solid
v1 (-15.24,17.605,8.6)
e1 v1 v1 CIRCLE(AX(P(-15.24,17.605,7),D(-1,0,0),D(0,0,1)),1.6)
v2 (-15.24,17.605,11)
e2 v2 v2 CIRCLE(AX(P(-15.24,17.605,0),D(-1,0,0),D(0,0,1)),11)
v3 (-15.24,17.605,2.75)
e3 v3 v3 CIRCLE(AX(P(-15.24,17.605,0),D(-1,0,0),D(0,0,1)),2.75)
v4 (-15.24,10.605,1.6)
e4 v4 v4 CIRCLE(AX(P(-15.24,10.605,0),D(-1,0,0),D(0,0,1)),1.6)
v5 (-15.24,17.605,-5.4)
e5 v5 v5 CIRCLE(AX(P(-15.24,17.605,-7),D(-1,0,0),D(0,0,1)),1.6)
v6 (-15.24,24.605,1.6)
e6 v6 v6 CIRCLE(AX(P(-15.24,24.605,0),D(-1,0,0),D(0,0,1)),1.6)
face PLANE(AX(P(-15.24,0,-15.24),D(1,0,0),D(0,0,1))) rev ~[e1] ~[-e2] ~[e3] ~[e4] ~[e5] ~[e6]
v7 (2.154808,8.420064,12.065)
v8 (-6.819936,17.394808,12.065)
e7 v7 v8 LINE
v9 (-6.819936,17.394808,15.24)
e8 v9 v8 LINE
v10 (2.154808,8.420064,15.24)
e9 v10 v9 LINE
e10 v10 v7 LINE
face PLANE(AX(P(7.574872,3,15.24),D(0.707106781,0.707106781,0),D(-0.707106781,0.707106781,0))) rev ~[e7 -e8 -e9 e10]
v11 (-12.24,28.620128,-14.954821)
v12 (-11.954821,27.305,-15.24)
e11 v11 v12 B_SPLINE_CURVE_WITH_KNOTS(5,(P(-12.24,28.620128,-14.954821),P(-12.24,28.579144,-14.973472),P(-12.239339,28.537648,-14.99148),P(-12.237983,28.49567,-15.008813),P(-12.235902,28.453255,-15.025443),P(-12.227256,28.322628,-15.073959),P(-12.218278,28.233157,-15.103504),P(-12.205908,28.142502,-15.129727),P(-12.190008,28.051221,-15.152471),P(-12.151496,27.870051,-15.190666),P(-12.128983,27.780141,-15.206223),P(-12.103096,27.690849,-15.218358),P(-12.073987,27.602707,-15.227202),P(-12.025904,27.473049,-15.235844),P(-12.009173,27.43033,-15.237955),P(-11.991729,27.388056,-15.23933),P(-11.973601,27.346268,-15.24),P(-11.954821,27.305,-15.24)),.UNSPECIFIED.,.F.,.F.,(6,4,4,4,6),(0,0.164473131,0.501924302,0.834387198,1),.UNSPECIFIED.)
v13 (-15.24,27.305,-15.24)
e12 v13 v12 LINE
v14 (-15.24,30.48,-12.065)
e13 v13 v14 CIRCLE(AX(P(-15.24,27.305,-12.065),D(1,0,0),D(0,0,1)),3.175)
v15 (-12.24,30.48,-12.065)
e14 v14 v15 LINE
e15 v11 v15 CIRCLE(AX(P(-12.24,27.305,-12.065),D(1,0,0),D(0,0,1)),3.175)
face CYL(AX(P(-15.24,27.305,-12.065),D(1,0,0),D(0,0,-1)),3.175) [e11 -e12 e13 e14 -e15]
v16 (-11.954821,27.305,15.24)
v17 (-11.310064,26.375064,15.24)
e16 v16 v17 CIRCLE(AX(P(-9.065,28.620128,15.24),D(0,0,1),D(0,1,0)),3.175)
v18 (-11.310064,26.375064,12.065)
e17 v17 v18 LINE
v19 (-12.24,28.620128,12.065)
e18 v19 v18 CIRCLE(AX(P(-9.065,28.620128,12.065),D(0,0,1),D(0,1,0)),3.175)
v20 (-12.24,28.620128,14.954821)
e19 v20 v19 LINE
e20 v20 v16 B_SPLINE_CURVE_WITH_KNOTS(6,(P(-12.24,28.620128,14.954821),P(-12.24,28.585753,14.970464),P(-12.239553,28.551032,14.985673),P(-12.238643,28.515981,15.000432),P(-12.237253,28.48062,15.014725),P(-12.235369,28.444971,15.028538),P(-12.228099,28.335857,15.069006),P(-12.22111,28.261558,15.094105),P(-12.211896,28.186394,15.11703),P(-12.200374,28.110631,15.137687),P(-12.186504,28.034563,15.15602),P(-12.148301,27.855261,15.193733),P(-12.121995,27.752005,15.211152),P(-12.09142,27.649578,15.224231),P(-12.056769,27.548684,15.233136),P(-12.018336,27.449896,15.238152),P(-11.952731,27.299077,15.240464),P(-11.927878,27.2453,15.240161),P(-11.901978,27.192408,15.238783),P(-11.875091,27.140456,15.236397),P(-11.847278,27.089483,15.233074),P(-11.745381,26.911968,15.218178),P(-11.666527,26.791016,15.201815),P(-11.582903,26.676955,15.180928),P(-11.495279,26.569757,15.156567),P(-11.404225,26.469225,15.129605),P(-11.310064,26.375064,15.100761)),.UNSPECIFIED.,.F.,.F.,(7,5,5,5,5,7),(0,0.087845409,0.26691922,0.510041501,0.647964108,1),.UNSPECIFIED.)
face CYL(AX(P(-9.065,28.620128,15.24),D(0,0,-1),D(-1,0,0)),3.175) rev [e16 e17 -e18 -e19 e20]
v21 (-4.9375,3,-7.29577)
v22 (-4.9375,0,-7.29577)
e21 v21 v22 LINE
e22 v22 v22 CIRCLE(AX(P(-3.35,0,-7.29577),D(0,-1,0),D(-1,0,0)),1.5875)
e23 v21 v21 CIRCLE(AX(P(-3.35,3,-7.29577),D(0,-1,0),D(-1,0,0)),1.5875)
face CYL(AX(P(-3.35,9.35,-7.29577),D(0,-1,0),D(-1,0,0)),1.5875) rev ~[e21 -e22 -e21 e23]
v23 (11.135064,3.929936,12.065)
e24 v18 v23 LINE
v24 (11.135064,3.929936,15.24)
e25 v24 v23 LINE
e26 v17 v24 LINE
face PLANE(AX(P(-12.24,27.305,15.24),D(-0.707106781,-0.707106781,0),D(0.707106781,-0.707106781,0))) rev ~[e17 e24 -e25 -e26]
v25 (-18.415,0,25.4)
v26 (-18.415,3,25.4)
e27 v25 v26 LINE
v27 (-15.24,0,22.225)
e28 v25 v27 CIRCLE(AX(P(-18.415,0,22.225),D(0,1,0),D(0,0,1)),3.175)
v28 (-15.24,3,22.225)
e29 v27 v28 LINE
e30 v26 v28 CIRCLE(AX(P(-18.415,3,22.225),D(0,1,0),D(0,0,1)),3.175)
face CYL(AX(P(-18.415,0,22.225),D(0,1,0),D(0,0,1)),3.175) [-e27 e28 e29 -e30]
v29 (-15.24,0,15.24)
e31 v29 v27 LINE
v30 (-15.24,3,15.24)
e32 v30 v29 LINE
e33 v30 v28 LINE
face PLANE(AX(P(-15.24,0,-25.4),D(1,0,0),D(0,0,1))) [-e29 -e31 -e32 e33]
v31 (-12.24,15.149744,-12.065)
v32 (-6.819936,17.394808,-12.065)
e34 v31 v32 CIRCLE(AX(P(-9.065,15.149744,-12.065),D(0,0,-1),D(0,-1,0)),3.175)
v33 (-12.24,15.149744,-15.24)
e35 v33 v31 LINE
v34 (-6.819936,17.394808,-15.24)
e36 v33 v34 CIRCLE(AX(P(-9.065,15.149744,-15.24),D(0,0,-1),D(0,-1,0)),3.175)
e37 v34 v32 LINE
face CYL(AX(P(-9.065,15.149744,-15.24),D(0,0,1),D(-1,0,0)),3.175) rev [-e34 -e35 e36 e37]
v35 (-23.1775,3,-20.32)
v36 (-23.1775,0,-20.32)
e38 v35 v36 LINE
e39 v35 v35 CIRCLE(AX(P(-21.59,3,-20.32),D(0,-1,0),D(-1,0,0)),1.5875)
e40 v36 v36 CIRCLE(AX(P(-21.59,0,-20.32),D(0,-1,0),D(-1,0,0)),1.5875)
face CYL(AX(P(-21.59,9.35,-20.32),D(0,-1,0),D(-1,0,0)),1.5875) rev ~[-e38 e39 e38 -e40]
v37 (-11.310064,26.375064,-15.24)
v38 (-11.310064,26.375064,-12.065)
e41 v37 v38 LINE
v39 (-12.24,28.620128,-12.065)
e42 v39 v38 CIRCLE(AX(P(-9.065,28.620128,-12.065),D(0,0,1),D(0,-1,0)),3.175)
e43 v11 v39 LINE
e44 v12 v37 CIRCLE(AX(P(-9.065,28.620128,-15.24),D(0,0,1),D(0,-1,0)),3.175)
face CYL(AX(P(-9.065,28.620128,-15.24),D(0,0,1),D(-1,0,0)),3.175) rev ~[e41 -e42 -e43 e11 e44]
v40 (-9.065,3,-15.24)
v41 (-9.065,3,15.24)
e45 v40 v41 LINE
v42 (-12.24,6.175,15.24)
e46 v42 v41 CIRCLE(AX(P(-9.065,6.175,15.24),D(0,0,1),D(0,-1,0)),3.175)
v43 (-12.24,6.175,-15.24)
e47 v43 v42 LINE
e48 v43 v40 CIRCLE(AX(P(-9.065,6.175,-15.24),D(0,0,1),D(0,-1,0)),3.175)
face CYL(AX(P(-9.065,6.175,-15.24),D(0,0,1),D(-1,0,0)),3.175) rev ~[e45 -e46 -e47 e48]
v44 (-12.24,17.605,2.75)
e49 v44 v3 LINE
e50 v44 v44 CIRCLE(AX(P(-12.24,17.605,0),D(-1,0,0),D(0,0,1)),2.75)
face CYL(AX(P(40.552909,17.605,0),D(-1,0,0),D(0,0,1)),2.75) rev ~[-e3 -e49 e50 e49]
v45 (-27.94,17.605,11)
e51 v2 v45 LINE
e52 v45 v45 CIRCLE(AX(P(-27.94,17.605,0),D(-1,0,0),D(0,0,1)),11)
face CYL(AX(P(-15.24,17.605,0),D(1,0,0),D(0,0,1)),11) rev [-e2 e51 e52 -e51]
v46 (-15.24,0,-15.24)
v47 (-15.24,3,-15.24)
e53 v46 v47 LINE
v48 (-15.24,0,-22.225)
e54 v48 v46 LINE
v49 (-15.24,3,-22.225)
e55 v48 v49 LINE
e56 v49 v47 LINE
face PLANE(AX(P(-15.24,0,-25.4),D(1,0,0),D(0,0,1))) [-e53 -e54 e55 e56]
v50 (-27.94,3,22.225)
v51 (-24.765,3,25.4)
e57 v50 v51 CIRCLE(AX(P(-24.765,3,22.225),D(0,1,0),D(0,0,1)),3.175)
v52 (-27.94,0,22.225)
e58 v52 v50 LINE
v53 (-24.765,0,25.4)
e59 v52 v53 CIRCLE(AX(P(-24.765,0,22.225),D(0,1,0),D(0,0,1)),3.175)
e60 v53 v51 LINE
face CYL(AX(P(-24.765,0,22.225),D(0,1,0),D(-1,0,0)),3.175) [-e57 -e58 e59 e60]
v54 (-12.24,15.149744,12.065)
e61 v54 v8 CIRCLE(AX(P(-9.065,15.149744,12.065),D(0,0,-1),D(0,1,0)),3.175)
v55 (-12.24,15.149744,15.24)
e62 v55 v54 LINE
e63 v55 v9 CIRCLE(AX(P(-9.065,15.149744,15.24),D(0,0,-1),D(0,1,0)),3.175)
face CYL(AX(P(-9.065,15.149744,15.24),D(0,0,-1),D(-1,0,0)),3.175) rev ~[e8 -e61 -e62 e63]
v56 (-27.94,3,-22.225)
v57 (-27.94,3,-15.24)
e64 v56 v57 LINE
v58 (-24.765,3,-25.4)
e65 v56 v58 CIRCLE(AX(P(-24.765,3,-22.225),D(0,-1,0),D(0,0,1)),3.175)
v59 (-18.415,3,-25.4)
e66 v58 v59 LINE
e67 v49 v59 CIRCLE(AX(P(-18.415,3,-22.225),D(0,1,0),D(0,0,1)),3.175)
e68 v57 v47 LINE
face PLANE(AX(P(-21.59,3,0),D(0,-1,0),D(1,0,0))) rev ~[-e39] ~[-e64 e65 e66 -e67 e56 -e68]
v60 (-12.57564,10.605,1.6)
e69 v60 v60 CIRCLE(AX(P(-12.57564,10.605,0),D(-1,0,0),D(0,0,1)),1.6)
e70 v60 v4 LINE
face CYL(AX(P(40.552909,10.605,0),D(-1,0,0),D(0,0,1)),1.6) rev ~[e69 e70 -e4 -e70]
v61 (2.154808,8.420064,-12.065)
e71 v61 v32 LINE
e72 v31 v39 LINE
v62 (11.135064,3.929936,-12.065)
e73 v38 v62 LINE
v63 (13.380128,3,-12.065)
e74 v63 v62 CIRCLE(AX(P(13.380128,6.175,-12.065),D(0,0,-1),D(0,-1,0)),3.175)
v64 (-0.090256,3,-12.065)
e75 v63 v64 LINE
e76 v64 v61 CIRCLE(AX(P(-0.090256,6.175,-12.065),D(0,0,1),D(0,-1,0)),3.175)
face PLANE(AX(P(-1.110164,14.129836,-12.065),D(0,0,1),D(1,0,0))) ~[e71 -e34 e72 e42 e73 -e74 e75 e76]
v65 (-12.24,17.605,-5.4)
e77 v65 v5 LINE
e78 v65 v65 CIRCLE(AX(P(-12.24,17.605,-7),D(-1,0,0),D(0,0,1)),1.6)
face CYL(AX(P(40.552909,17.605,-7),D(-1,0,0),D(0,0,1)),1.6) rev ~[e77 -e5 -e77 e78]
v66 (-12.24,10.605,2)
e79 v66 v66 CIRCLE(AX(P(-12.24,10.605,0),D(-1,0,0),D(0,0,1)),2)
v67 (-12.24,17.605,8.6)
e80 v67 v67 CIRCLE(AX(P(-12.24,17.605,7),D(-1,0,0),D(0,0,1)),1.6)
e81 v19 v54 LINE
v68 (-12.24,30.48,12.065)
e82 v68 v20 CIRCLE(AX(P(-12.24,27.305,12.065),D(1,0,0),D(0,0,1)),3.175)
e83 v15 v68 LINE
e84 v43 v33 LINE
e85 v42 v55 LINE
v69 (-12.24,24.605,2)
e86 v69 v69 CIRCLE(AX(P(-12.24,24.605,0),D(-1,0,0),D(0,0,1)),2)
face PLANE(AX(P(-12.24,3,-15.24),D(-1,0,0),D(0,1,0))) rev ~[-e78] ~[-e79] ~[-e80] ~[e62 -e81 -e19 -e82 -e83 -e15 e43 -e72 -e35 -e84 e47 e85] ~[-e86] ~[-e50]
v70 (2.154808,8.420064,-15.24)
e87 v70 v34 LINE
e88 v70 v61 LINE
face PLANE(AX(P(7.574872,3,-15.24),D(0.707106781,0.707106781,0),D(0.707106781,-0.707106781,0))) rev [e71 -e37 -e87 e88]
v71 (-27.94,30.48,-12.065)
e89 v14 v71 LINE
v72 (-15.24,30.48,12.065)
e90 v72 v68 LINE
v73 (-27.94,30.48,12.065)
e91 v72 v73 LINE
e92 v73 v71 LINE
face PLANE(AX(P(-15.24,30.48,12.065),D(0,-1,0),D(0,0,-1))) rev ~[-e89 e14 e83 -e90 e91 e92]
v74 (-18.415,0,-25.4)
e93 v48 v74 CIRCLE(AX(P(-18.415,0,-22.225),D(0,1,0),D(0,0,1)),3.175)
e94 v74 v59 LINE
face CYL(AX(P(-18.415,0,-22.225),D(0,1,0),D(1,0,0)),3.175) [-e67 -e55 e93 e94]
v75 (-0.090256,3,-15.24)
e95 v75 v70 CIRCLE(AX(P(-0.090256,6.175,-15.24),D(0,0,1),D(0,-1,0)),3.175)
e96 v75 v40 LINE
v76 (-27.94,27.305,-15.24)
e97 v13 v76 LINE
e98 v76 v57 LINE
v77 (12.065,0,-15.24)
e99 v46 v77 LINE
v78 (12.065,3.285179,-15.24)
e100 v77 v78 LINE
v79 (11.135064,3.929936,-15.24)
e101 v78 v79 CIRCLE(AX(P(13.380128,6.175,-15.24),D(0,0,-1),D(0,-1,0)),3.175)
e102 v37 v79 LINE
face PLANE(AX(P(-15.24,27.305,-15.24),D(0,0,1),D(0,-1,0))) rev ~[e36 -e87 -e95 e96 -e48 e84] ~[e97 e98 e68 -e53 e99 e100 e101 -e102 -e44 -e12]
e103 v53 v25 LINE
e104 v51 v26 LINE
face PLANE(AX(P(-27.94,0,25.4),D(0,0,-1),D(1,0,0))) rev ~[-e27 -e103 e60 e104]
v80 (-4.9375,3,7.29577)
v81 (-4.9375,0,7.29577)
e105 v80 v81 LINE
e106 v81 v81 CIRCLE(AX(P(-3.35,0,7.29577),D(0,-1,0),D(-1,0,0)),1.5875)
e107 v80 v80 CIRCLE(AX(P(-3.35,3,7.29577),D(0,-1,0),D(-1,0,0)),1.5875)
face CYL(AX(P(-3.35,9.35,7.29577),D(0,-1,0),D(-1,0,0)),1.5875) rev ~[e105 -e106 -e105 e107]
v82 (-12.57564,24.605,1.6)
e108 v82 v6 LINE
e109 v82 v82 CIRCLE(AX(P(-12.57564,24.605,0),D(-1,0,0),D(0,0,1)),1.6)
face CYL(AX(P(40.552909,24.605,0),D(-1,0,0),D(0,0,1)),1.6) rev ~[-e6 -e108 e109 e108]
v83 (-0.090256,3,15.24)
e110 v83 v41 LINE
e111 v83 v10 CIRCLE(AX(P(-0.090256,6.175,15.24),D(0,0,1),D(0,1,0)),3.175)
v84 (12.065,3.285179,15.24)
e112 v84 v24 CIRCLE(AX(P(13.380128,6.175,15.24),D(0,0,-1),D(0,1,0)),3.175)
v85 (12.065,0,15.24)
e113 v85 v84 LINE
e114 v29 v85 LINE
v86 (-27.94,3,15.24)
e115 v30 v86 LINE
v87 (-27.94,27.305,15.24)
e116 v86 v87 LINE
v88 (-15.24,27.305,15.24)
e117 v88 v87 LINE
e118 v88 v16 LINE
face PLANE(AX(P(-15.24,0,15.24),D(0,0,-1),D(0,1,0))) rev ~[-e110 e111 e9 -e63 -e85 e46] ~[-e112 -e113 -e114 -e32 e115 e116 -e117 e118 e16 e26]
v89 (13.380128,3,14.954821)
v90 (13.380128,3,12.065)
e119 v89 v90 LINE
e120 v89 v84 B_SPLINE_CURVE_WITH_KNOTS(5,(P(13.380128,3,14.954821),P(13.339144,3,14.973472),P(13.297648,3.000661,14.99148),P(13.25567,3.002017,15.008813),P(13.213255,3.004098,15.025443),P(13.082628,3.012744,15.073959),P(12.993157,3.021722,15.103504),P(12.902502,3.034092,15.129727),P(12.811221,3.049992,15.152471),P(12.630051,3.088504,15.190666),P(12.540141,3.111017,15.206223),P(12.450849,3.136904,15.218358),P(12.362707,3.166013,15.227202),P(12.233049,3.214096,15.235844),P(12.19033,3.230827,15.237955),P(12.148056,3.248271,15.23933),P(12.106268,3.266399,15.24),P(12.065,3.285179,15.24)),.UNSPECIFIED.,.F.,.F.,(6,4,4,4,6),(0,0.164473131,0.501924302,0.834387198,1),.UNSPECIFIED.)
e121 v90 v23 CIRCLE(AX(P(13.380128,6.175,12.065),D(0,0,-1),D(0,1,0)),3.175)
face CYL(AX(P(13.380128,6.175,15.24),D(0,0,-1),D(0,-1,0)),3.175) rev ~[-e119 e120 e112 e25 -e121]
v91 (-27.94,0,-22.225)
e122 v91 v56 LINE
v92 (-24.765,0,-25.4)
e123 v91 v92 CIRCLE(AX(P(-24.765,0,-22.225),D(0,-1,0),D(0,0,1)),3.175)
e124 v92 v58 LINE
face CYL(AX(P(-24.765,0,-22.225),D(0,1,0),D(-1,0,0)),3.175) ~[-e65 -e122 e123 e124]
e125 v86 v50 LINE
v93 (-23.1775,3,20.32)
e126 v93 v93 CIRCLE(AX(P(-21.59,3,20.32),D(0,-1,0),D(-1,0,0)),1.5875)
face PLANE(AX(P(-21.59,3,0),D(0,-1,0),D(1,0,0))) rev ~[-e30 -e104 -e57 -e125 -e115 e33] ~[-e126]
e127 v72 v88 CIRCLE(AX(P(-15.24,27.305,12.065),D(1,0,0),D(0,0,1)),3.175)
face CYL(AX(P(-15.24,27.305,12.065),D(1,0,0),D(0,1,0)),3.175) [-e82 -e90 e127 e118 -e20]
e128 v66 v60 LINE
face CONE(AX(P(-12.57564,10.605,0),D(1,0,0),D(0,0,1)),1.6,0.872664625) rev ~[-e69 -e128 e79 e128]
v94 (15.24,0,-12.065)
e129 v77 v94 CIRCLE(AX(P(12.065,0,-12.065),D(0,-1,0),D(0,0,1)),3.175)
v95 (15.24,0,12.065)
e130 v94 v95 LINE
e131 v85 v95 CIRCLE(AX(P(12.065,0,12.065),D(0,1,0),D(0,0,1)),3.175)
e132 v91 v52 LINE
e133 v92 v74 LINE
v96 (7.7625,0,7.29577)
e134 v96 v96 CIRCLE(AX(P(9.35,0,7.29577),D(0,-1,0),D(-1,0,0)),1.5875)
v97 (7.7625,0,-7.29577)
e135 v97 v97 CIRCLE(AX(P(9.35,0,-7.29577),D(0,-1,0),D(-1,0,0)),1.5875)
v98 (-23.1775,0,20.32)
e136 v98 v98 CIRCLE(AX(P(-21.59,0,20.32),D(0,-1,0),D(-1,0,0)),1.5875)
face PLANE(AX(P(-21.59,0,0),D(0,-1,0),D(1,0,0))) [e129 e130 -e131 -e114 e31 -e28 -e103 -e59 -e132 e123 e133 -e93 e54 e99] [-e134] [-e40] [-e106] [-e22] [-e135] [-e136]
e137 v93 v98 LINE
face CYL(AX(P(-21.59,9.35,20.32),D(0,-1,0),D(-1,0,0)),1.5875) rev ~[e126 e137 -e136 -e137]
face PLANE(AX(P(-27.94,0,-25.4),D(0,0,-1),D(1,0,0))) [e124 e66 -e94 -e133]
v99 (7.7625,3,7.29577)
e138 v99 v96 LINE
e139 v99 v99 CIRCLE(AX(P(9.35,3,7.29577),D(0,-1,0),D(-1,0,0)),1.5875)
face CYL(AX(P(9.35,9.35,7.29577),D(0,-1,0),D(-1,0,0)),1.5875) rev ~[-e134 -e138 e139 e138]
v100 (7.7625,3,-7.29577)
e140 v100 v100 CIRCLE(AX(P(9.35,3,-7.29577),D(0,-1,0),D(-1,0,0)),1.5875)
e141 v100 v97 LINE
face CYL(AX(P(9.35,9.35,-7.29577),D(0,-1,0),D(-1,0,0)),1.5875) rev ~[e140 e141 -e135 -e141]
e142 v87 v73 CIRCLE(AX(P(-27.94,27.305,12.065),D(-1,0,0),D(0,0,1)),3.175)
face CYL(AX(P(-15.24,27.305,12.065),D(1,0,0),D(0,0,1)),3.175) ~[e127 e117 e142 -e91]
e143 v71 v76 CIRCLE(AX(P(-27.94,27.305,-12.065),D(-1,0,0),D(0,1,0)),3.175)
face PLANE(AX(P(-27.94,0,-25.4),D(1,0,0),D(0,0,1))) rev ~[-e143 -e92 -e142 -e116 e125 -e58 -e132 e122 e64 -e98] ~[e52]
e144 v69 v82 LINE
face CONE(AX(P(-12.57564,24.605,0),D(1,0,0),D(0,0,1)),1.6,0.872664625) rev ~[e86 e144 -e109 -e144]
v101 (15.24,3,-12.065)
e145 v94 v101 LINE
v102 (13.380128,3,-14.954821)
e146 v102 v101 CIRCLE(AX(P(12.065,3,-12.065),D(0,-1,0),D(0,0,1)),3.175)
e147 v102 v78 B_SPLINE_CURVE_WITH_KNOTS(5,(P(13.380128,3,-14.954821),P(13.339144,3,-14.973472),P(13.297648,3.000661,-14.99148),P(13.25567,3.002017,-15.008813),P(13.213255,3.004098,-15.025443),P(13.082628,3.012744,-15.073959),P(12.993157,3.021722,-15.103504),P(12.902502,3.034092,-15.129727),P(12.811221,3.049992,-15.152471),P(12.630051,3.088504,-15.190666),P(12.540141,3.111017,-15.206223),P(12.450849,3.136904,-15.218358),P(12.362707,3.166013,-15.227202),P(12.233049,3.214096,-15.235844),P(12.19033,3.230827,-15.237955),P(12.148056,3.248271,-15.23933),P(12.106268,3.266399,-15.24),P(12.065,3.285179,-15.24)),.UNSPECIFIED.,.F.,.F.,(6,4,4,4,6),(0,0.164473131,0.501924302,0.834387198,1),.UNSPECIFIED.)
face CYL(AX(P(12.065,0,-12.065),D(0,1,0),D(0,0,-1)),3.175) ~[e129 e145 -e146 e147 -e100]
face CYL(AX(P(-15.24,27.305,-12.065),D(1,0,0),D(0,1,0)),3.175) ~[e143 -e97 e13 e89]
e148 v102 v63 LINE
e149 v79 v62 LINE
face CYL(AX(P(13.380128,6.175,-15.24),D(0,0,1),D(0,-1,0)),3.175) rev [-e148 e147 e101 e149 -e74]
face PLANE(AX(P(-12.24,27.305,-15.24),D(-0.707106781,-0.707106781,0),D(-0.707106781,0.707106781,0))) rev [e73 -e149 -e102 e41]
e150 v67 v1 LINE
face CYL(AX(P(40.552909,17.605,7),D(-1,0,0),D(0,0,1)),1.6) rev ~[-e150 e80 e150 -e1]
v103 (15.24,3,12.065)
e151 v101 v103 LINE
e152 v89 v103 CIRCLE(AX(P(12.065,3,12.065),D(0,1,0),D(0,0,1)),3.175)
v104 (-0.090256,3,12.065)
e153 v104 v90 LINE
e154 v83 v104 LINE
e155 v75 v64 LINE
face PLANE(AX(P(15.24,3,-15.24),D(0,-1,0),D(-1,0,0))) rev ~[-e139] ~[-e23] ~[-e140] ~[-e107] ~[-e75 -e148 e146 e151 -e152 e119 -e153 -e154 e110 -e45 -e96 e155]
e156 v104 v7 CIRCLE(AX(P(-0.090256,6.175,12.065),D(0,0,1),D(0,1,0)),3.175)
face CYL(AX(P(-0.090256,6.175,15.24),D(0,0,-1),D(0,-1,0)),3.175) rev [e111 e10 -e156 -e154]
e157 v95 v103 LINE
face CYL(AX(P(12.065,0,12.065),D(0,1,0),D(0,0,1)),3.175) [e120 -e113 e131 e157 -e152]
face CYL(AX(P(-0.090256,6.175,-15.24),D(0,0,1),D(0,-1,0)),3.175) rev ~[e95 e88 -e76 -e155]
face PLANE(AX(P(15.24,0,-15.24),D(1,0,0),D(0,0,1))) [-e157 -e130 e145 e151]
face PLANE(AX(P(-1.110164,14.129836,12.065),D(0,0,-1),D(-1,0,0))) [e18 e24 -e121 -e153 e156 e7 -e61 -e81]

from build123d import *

# Parameters (mm, degrees)
SKETCH1_W                      = 30.48
SKETCH1_H                      = 30.48
BOSS_EXTRUDE1_DEPTH            = 30.48
SKETCH2_W                      = 27.48
SKETCH2_H                      = 27.48
CUT_EXTRUDE1_DEPTH             = 46.72
F_10_CLEARANCE_HOLE1_D         = 5.5
F_4_CLEARANCE_HOLE1_D          = 3.2
CHAMFER1_SIZE                  = 0.399999962
CHAMFER1_SIZE2                 = 0.335639821
FILLET1_R                      = 3.175
BOSS_EXTRUDE2_DEPTH            = 3.175
SKETCH20_R                     = 11
BOSS_EXTRUDE3_DEPTH            = 12.7
SKETCH21_W                     = 12.7
SKETCH21_H                     = 50.8
BOSS_EXTRUDE4_DEPTH            = 3
FILLET2_R                      = 3.175
F_1_8_0_1250_DOWEL_HOLE1_D     = 3.175
F_1_8_0_1250_DOWEL_HOLE1_DEPTH = 6.35
F_1_8_0_1250_DOWEL_HOLE1_TIP   = 0.953866233
F_1_8_0_1250_DOWEL_HOLE2_D     = 3.175
F_1_8_0_1250_DOWEL_HOLE2_DEPTH = 6.35
F_1_8_0_1250_DOWEL_HOLE2_TIP   = 0.953866233


with BuildPart() as part:
    # Sketch1 → Boss-Extrude1 (new body)
    with BuildSketch(Plane.XZ):
        Rectangle(SKETCH1_W, SKETCH1_H)
    extrude(amount=-BOSS_EXTRUDE1_DEPTH)

    # Sketch2 → Cut-Extrude1 (cut, through all)
    with BuildSketch(Plane(origin=(0, 0, -15.24), x_dir=(-1, 0, 0), z_dir=(0, 0, -1))):
        with Locations((-1.5, 16.74)):
            Rectangle(SKETCH2_W, SKETCH2_H)
    extrude(amount=-CUT_EXTRUDE1_DEPTH, mode=Mode.SUBTRACT)

    # #10 Clearance Hole1 (through all)
    with Locations(Plane(origin=(-12.24, 0, 0), x_dir=(0, 0, -1), z_dir=(1, 0, 0))):
        with Locations((0, 17.605)):
            Hole(F_10_CLEARANCE_HOLE1_D / 2)

    # #4 Clearance Hole1 (through all)
    with Locations(Plane(origin=(-12.24, 0, 0), x_dir=(0, 0, -1), z_dir=(1, 0, 0))):
        with Locations((-7, 17.605), (7, 17.605), (0, 24.605), (0, 10.605)):
            Hole(F_4_CLEARANCE_HOLE1_D / 2)

    # Chamfer1
    chamfer1_edges = [part.edges().sort_by_distance(p)[0] for p in [
        (-12.24, 10.605, -1.6),
        (-12.24, 24.605, -1.6),
    ]]
    chamfer1_side = [part.faces().sort_by_distance(p)[0] for p in [
        (-12.24, 16.74, -14.829612281),
    ]]
    chamfer(chamfer1_edges, length=CHAMFER1_SIZE, length2=CHAMFER1_SIZE2, reference=chamfer1_side[0])

    # Fillet1
    fillet1_edges = [part.edges().sort_by_distance(p)[0] for p in [
        (-13.74, 30.48, 15.24),
        (15.24, 1.5, -15.24),
        (15.24, 1.5, 15.24),
        (-12.24, 3, 0),
        (-13.74, 30.48, -15.24),
    ]]
    fillet(fillet1_edges, radius=FILLET1_R)

    # Sketch11 → Boss-Extrude2 (add)
    with BuildSketch(Plane.XY.offset(15.24)):
        Polygon((-12.24, 27.305), (12.065, 3), (7.574871939, 3), (-12.24, 22.814871939), align=None)
    boss_extrude2 = extrude(amount=-BOSS_EXTRUDE2_DEPTH)

    # Mirror1: Boss-Extrude2 across plane
    add(boss_extrude2.mirror(Plane(origin=(0, 0, 0), x_dir=(1, 0, 0), z_dir=(0, 0, -1))))

    # Sketch20 → Boss-Extrude3 (add)
    with BuildSketch(Plane.ZY.offset(15.24)):
        with BuildLine():
            Line((15.24, 0), (15.24, 27.305))
            ThreePointArc((15.24, 27.305), (14.31006403, 29.55006403), (12.065, 30.48))
            Line((12.065, 30.48), (-12.065, 30.48))
            ThreePointArc((-12.065, 30.48), (-14.31006403, 29.55006403), (-15.24, 27.305))
            Line((-15.24, 27.305), (-15.24, 0))
            Line((-15.24, 0), (15.24, 0))
        make_face()
        with Locations((0, 17.605)):
            Circle(SKETCH20_R, mode=Mode.SUBTRACT)
    extrude(amount=BOSS_EXTRUDE3_DEPTH)

    # Sketch21 → Boss-Extrude4 (add)
    with BuildSketch(Plane.XZ):
        with Locations((-21.59, 0)):
            Rectangle(SKETCH21_W, SKETCH21_H)
    extrude(amount=-BOSS_EXTRUDE4_DEPTH)

    # Fillet2
    fillet2_edges = [part.edges().sort_by_distance(p)[0] for p in [
        (-12.24, 27.305, -13.6525),
        (-12.24, 22.814871939, -13.6525),
        (7.574871939, 3, -13.6525),
        (12.065, 3, -13.6525),
        (-15.24, 1.5, 25.4),
        (-27.94, 1.5, -25.4),
        (-27.94, 1.5, 25.4),
        (-15.24, 1.5, -25.4),
        (-12.24, 22.814871939, 13.6525),
        (-12.24, 27.305, 13.6525),
        (12.065, 3, 13.6525),
        (7.574871939, 3, 13.6525),
    ]]
    fillet(fillet2_edges, radius=FILLET2_R)

    # 1/8 (0.1250) Dowel Hole1
    with Locations(Plane(origin=(0, 3, 0), x_dir=(1, 0, 0), z_dir=(0, 1, 0))):
        with Locations((-3.35, 7.29577013), (9.35, 7.29577013), (9.35, -7.29577013), (-3.35, -7.29577013)):
            Hole(F_1_8_0_1250_DOWEL_HOLE1_D / 2, depth=F_1_8_0_1250_DOWEL_HOLE1_DEPTH)
            with Locations((0, 0, -(F_1_8_0_1250_DOWEL_HOLE1_DEPTH + F_1_8_0_1250_DOWEL_HOLE1_TIP / 2))):  # 118° drill point
                Cone(0, F_1_8_0_1250_DOWEL_HOLE1_D / 2, F_1_8_0_1250_DOWEL_HOLE1_TIP, mode=Mode.SUBTRACT)

    # 1/8 (0.1250) Dowel Hole2
    with Locations(Plane(origin=(0, 3, 0), x_dir=(1, 0, 0), z_dir=(0, 1, 0))):
        with Locations((-21.59, 20.32), (-21.59, -20.32)):
            Hole(F_1_8_0_1250_DOWEL_HOLE2_D / 2, depth=F_1_8_0_1250_DOWEL_HOLE2_DEPTH)
            with Locations((0, 0, -(F_1_8_0_1250_DOWEL_HOLE2_DEPTH + F_1_8_0_1250_DOWEL_HOLE2_TIP / 2))):  # 118° drill point
                Cone(0, F_1_8_0_1250_DOWEL_HOLE2_D / 2, F_1_8_0_1250_DOWEL_HOLE2_TIP, mode=Mode.SUBTRACT)


solid = part.part
